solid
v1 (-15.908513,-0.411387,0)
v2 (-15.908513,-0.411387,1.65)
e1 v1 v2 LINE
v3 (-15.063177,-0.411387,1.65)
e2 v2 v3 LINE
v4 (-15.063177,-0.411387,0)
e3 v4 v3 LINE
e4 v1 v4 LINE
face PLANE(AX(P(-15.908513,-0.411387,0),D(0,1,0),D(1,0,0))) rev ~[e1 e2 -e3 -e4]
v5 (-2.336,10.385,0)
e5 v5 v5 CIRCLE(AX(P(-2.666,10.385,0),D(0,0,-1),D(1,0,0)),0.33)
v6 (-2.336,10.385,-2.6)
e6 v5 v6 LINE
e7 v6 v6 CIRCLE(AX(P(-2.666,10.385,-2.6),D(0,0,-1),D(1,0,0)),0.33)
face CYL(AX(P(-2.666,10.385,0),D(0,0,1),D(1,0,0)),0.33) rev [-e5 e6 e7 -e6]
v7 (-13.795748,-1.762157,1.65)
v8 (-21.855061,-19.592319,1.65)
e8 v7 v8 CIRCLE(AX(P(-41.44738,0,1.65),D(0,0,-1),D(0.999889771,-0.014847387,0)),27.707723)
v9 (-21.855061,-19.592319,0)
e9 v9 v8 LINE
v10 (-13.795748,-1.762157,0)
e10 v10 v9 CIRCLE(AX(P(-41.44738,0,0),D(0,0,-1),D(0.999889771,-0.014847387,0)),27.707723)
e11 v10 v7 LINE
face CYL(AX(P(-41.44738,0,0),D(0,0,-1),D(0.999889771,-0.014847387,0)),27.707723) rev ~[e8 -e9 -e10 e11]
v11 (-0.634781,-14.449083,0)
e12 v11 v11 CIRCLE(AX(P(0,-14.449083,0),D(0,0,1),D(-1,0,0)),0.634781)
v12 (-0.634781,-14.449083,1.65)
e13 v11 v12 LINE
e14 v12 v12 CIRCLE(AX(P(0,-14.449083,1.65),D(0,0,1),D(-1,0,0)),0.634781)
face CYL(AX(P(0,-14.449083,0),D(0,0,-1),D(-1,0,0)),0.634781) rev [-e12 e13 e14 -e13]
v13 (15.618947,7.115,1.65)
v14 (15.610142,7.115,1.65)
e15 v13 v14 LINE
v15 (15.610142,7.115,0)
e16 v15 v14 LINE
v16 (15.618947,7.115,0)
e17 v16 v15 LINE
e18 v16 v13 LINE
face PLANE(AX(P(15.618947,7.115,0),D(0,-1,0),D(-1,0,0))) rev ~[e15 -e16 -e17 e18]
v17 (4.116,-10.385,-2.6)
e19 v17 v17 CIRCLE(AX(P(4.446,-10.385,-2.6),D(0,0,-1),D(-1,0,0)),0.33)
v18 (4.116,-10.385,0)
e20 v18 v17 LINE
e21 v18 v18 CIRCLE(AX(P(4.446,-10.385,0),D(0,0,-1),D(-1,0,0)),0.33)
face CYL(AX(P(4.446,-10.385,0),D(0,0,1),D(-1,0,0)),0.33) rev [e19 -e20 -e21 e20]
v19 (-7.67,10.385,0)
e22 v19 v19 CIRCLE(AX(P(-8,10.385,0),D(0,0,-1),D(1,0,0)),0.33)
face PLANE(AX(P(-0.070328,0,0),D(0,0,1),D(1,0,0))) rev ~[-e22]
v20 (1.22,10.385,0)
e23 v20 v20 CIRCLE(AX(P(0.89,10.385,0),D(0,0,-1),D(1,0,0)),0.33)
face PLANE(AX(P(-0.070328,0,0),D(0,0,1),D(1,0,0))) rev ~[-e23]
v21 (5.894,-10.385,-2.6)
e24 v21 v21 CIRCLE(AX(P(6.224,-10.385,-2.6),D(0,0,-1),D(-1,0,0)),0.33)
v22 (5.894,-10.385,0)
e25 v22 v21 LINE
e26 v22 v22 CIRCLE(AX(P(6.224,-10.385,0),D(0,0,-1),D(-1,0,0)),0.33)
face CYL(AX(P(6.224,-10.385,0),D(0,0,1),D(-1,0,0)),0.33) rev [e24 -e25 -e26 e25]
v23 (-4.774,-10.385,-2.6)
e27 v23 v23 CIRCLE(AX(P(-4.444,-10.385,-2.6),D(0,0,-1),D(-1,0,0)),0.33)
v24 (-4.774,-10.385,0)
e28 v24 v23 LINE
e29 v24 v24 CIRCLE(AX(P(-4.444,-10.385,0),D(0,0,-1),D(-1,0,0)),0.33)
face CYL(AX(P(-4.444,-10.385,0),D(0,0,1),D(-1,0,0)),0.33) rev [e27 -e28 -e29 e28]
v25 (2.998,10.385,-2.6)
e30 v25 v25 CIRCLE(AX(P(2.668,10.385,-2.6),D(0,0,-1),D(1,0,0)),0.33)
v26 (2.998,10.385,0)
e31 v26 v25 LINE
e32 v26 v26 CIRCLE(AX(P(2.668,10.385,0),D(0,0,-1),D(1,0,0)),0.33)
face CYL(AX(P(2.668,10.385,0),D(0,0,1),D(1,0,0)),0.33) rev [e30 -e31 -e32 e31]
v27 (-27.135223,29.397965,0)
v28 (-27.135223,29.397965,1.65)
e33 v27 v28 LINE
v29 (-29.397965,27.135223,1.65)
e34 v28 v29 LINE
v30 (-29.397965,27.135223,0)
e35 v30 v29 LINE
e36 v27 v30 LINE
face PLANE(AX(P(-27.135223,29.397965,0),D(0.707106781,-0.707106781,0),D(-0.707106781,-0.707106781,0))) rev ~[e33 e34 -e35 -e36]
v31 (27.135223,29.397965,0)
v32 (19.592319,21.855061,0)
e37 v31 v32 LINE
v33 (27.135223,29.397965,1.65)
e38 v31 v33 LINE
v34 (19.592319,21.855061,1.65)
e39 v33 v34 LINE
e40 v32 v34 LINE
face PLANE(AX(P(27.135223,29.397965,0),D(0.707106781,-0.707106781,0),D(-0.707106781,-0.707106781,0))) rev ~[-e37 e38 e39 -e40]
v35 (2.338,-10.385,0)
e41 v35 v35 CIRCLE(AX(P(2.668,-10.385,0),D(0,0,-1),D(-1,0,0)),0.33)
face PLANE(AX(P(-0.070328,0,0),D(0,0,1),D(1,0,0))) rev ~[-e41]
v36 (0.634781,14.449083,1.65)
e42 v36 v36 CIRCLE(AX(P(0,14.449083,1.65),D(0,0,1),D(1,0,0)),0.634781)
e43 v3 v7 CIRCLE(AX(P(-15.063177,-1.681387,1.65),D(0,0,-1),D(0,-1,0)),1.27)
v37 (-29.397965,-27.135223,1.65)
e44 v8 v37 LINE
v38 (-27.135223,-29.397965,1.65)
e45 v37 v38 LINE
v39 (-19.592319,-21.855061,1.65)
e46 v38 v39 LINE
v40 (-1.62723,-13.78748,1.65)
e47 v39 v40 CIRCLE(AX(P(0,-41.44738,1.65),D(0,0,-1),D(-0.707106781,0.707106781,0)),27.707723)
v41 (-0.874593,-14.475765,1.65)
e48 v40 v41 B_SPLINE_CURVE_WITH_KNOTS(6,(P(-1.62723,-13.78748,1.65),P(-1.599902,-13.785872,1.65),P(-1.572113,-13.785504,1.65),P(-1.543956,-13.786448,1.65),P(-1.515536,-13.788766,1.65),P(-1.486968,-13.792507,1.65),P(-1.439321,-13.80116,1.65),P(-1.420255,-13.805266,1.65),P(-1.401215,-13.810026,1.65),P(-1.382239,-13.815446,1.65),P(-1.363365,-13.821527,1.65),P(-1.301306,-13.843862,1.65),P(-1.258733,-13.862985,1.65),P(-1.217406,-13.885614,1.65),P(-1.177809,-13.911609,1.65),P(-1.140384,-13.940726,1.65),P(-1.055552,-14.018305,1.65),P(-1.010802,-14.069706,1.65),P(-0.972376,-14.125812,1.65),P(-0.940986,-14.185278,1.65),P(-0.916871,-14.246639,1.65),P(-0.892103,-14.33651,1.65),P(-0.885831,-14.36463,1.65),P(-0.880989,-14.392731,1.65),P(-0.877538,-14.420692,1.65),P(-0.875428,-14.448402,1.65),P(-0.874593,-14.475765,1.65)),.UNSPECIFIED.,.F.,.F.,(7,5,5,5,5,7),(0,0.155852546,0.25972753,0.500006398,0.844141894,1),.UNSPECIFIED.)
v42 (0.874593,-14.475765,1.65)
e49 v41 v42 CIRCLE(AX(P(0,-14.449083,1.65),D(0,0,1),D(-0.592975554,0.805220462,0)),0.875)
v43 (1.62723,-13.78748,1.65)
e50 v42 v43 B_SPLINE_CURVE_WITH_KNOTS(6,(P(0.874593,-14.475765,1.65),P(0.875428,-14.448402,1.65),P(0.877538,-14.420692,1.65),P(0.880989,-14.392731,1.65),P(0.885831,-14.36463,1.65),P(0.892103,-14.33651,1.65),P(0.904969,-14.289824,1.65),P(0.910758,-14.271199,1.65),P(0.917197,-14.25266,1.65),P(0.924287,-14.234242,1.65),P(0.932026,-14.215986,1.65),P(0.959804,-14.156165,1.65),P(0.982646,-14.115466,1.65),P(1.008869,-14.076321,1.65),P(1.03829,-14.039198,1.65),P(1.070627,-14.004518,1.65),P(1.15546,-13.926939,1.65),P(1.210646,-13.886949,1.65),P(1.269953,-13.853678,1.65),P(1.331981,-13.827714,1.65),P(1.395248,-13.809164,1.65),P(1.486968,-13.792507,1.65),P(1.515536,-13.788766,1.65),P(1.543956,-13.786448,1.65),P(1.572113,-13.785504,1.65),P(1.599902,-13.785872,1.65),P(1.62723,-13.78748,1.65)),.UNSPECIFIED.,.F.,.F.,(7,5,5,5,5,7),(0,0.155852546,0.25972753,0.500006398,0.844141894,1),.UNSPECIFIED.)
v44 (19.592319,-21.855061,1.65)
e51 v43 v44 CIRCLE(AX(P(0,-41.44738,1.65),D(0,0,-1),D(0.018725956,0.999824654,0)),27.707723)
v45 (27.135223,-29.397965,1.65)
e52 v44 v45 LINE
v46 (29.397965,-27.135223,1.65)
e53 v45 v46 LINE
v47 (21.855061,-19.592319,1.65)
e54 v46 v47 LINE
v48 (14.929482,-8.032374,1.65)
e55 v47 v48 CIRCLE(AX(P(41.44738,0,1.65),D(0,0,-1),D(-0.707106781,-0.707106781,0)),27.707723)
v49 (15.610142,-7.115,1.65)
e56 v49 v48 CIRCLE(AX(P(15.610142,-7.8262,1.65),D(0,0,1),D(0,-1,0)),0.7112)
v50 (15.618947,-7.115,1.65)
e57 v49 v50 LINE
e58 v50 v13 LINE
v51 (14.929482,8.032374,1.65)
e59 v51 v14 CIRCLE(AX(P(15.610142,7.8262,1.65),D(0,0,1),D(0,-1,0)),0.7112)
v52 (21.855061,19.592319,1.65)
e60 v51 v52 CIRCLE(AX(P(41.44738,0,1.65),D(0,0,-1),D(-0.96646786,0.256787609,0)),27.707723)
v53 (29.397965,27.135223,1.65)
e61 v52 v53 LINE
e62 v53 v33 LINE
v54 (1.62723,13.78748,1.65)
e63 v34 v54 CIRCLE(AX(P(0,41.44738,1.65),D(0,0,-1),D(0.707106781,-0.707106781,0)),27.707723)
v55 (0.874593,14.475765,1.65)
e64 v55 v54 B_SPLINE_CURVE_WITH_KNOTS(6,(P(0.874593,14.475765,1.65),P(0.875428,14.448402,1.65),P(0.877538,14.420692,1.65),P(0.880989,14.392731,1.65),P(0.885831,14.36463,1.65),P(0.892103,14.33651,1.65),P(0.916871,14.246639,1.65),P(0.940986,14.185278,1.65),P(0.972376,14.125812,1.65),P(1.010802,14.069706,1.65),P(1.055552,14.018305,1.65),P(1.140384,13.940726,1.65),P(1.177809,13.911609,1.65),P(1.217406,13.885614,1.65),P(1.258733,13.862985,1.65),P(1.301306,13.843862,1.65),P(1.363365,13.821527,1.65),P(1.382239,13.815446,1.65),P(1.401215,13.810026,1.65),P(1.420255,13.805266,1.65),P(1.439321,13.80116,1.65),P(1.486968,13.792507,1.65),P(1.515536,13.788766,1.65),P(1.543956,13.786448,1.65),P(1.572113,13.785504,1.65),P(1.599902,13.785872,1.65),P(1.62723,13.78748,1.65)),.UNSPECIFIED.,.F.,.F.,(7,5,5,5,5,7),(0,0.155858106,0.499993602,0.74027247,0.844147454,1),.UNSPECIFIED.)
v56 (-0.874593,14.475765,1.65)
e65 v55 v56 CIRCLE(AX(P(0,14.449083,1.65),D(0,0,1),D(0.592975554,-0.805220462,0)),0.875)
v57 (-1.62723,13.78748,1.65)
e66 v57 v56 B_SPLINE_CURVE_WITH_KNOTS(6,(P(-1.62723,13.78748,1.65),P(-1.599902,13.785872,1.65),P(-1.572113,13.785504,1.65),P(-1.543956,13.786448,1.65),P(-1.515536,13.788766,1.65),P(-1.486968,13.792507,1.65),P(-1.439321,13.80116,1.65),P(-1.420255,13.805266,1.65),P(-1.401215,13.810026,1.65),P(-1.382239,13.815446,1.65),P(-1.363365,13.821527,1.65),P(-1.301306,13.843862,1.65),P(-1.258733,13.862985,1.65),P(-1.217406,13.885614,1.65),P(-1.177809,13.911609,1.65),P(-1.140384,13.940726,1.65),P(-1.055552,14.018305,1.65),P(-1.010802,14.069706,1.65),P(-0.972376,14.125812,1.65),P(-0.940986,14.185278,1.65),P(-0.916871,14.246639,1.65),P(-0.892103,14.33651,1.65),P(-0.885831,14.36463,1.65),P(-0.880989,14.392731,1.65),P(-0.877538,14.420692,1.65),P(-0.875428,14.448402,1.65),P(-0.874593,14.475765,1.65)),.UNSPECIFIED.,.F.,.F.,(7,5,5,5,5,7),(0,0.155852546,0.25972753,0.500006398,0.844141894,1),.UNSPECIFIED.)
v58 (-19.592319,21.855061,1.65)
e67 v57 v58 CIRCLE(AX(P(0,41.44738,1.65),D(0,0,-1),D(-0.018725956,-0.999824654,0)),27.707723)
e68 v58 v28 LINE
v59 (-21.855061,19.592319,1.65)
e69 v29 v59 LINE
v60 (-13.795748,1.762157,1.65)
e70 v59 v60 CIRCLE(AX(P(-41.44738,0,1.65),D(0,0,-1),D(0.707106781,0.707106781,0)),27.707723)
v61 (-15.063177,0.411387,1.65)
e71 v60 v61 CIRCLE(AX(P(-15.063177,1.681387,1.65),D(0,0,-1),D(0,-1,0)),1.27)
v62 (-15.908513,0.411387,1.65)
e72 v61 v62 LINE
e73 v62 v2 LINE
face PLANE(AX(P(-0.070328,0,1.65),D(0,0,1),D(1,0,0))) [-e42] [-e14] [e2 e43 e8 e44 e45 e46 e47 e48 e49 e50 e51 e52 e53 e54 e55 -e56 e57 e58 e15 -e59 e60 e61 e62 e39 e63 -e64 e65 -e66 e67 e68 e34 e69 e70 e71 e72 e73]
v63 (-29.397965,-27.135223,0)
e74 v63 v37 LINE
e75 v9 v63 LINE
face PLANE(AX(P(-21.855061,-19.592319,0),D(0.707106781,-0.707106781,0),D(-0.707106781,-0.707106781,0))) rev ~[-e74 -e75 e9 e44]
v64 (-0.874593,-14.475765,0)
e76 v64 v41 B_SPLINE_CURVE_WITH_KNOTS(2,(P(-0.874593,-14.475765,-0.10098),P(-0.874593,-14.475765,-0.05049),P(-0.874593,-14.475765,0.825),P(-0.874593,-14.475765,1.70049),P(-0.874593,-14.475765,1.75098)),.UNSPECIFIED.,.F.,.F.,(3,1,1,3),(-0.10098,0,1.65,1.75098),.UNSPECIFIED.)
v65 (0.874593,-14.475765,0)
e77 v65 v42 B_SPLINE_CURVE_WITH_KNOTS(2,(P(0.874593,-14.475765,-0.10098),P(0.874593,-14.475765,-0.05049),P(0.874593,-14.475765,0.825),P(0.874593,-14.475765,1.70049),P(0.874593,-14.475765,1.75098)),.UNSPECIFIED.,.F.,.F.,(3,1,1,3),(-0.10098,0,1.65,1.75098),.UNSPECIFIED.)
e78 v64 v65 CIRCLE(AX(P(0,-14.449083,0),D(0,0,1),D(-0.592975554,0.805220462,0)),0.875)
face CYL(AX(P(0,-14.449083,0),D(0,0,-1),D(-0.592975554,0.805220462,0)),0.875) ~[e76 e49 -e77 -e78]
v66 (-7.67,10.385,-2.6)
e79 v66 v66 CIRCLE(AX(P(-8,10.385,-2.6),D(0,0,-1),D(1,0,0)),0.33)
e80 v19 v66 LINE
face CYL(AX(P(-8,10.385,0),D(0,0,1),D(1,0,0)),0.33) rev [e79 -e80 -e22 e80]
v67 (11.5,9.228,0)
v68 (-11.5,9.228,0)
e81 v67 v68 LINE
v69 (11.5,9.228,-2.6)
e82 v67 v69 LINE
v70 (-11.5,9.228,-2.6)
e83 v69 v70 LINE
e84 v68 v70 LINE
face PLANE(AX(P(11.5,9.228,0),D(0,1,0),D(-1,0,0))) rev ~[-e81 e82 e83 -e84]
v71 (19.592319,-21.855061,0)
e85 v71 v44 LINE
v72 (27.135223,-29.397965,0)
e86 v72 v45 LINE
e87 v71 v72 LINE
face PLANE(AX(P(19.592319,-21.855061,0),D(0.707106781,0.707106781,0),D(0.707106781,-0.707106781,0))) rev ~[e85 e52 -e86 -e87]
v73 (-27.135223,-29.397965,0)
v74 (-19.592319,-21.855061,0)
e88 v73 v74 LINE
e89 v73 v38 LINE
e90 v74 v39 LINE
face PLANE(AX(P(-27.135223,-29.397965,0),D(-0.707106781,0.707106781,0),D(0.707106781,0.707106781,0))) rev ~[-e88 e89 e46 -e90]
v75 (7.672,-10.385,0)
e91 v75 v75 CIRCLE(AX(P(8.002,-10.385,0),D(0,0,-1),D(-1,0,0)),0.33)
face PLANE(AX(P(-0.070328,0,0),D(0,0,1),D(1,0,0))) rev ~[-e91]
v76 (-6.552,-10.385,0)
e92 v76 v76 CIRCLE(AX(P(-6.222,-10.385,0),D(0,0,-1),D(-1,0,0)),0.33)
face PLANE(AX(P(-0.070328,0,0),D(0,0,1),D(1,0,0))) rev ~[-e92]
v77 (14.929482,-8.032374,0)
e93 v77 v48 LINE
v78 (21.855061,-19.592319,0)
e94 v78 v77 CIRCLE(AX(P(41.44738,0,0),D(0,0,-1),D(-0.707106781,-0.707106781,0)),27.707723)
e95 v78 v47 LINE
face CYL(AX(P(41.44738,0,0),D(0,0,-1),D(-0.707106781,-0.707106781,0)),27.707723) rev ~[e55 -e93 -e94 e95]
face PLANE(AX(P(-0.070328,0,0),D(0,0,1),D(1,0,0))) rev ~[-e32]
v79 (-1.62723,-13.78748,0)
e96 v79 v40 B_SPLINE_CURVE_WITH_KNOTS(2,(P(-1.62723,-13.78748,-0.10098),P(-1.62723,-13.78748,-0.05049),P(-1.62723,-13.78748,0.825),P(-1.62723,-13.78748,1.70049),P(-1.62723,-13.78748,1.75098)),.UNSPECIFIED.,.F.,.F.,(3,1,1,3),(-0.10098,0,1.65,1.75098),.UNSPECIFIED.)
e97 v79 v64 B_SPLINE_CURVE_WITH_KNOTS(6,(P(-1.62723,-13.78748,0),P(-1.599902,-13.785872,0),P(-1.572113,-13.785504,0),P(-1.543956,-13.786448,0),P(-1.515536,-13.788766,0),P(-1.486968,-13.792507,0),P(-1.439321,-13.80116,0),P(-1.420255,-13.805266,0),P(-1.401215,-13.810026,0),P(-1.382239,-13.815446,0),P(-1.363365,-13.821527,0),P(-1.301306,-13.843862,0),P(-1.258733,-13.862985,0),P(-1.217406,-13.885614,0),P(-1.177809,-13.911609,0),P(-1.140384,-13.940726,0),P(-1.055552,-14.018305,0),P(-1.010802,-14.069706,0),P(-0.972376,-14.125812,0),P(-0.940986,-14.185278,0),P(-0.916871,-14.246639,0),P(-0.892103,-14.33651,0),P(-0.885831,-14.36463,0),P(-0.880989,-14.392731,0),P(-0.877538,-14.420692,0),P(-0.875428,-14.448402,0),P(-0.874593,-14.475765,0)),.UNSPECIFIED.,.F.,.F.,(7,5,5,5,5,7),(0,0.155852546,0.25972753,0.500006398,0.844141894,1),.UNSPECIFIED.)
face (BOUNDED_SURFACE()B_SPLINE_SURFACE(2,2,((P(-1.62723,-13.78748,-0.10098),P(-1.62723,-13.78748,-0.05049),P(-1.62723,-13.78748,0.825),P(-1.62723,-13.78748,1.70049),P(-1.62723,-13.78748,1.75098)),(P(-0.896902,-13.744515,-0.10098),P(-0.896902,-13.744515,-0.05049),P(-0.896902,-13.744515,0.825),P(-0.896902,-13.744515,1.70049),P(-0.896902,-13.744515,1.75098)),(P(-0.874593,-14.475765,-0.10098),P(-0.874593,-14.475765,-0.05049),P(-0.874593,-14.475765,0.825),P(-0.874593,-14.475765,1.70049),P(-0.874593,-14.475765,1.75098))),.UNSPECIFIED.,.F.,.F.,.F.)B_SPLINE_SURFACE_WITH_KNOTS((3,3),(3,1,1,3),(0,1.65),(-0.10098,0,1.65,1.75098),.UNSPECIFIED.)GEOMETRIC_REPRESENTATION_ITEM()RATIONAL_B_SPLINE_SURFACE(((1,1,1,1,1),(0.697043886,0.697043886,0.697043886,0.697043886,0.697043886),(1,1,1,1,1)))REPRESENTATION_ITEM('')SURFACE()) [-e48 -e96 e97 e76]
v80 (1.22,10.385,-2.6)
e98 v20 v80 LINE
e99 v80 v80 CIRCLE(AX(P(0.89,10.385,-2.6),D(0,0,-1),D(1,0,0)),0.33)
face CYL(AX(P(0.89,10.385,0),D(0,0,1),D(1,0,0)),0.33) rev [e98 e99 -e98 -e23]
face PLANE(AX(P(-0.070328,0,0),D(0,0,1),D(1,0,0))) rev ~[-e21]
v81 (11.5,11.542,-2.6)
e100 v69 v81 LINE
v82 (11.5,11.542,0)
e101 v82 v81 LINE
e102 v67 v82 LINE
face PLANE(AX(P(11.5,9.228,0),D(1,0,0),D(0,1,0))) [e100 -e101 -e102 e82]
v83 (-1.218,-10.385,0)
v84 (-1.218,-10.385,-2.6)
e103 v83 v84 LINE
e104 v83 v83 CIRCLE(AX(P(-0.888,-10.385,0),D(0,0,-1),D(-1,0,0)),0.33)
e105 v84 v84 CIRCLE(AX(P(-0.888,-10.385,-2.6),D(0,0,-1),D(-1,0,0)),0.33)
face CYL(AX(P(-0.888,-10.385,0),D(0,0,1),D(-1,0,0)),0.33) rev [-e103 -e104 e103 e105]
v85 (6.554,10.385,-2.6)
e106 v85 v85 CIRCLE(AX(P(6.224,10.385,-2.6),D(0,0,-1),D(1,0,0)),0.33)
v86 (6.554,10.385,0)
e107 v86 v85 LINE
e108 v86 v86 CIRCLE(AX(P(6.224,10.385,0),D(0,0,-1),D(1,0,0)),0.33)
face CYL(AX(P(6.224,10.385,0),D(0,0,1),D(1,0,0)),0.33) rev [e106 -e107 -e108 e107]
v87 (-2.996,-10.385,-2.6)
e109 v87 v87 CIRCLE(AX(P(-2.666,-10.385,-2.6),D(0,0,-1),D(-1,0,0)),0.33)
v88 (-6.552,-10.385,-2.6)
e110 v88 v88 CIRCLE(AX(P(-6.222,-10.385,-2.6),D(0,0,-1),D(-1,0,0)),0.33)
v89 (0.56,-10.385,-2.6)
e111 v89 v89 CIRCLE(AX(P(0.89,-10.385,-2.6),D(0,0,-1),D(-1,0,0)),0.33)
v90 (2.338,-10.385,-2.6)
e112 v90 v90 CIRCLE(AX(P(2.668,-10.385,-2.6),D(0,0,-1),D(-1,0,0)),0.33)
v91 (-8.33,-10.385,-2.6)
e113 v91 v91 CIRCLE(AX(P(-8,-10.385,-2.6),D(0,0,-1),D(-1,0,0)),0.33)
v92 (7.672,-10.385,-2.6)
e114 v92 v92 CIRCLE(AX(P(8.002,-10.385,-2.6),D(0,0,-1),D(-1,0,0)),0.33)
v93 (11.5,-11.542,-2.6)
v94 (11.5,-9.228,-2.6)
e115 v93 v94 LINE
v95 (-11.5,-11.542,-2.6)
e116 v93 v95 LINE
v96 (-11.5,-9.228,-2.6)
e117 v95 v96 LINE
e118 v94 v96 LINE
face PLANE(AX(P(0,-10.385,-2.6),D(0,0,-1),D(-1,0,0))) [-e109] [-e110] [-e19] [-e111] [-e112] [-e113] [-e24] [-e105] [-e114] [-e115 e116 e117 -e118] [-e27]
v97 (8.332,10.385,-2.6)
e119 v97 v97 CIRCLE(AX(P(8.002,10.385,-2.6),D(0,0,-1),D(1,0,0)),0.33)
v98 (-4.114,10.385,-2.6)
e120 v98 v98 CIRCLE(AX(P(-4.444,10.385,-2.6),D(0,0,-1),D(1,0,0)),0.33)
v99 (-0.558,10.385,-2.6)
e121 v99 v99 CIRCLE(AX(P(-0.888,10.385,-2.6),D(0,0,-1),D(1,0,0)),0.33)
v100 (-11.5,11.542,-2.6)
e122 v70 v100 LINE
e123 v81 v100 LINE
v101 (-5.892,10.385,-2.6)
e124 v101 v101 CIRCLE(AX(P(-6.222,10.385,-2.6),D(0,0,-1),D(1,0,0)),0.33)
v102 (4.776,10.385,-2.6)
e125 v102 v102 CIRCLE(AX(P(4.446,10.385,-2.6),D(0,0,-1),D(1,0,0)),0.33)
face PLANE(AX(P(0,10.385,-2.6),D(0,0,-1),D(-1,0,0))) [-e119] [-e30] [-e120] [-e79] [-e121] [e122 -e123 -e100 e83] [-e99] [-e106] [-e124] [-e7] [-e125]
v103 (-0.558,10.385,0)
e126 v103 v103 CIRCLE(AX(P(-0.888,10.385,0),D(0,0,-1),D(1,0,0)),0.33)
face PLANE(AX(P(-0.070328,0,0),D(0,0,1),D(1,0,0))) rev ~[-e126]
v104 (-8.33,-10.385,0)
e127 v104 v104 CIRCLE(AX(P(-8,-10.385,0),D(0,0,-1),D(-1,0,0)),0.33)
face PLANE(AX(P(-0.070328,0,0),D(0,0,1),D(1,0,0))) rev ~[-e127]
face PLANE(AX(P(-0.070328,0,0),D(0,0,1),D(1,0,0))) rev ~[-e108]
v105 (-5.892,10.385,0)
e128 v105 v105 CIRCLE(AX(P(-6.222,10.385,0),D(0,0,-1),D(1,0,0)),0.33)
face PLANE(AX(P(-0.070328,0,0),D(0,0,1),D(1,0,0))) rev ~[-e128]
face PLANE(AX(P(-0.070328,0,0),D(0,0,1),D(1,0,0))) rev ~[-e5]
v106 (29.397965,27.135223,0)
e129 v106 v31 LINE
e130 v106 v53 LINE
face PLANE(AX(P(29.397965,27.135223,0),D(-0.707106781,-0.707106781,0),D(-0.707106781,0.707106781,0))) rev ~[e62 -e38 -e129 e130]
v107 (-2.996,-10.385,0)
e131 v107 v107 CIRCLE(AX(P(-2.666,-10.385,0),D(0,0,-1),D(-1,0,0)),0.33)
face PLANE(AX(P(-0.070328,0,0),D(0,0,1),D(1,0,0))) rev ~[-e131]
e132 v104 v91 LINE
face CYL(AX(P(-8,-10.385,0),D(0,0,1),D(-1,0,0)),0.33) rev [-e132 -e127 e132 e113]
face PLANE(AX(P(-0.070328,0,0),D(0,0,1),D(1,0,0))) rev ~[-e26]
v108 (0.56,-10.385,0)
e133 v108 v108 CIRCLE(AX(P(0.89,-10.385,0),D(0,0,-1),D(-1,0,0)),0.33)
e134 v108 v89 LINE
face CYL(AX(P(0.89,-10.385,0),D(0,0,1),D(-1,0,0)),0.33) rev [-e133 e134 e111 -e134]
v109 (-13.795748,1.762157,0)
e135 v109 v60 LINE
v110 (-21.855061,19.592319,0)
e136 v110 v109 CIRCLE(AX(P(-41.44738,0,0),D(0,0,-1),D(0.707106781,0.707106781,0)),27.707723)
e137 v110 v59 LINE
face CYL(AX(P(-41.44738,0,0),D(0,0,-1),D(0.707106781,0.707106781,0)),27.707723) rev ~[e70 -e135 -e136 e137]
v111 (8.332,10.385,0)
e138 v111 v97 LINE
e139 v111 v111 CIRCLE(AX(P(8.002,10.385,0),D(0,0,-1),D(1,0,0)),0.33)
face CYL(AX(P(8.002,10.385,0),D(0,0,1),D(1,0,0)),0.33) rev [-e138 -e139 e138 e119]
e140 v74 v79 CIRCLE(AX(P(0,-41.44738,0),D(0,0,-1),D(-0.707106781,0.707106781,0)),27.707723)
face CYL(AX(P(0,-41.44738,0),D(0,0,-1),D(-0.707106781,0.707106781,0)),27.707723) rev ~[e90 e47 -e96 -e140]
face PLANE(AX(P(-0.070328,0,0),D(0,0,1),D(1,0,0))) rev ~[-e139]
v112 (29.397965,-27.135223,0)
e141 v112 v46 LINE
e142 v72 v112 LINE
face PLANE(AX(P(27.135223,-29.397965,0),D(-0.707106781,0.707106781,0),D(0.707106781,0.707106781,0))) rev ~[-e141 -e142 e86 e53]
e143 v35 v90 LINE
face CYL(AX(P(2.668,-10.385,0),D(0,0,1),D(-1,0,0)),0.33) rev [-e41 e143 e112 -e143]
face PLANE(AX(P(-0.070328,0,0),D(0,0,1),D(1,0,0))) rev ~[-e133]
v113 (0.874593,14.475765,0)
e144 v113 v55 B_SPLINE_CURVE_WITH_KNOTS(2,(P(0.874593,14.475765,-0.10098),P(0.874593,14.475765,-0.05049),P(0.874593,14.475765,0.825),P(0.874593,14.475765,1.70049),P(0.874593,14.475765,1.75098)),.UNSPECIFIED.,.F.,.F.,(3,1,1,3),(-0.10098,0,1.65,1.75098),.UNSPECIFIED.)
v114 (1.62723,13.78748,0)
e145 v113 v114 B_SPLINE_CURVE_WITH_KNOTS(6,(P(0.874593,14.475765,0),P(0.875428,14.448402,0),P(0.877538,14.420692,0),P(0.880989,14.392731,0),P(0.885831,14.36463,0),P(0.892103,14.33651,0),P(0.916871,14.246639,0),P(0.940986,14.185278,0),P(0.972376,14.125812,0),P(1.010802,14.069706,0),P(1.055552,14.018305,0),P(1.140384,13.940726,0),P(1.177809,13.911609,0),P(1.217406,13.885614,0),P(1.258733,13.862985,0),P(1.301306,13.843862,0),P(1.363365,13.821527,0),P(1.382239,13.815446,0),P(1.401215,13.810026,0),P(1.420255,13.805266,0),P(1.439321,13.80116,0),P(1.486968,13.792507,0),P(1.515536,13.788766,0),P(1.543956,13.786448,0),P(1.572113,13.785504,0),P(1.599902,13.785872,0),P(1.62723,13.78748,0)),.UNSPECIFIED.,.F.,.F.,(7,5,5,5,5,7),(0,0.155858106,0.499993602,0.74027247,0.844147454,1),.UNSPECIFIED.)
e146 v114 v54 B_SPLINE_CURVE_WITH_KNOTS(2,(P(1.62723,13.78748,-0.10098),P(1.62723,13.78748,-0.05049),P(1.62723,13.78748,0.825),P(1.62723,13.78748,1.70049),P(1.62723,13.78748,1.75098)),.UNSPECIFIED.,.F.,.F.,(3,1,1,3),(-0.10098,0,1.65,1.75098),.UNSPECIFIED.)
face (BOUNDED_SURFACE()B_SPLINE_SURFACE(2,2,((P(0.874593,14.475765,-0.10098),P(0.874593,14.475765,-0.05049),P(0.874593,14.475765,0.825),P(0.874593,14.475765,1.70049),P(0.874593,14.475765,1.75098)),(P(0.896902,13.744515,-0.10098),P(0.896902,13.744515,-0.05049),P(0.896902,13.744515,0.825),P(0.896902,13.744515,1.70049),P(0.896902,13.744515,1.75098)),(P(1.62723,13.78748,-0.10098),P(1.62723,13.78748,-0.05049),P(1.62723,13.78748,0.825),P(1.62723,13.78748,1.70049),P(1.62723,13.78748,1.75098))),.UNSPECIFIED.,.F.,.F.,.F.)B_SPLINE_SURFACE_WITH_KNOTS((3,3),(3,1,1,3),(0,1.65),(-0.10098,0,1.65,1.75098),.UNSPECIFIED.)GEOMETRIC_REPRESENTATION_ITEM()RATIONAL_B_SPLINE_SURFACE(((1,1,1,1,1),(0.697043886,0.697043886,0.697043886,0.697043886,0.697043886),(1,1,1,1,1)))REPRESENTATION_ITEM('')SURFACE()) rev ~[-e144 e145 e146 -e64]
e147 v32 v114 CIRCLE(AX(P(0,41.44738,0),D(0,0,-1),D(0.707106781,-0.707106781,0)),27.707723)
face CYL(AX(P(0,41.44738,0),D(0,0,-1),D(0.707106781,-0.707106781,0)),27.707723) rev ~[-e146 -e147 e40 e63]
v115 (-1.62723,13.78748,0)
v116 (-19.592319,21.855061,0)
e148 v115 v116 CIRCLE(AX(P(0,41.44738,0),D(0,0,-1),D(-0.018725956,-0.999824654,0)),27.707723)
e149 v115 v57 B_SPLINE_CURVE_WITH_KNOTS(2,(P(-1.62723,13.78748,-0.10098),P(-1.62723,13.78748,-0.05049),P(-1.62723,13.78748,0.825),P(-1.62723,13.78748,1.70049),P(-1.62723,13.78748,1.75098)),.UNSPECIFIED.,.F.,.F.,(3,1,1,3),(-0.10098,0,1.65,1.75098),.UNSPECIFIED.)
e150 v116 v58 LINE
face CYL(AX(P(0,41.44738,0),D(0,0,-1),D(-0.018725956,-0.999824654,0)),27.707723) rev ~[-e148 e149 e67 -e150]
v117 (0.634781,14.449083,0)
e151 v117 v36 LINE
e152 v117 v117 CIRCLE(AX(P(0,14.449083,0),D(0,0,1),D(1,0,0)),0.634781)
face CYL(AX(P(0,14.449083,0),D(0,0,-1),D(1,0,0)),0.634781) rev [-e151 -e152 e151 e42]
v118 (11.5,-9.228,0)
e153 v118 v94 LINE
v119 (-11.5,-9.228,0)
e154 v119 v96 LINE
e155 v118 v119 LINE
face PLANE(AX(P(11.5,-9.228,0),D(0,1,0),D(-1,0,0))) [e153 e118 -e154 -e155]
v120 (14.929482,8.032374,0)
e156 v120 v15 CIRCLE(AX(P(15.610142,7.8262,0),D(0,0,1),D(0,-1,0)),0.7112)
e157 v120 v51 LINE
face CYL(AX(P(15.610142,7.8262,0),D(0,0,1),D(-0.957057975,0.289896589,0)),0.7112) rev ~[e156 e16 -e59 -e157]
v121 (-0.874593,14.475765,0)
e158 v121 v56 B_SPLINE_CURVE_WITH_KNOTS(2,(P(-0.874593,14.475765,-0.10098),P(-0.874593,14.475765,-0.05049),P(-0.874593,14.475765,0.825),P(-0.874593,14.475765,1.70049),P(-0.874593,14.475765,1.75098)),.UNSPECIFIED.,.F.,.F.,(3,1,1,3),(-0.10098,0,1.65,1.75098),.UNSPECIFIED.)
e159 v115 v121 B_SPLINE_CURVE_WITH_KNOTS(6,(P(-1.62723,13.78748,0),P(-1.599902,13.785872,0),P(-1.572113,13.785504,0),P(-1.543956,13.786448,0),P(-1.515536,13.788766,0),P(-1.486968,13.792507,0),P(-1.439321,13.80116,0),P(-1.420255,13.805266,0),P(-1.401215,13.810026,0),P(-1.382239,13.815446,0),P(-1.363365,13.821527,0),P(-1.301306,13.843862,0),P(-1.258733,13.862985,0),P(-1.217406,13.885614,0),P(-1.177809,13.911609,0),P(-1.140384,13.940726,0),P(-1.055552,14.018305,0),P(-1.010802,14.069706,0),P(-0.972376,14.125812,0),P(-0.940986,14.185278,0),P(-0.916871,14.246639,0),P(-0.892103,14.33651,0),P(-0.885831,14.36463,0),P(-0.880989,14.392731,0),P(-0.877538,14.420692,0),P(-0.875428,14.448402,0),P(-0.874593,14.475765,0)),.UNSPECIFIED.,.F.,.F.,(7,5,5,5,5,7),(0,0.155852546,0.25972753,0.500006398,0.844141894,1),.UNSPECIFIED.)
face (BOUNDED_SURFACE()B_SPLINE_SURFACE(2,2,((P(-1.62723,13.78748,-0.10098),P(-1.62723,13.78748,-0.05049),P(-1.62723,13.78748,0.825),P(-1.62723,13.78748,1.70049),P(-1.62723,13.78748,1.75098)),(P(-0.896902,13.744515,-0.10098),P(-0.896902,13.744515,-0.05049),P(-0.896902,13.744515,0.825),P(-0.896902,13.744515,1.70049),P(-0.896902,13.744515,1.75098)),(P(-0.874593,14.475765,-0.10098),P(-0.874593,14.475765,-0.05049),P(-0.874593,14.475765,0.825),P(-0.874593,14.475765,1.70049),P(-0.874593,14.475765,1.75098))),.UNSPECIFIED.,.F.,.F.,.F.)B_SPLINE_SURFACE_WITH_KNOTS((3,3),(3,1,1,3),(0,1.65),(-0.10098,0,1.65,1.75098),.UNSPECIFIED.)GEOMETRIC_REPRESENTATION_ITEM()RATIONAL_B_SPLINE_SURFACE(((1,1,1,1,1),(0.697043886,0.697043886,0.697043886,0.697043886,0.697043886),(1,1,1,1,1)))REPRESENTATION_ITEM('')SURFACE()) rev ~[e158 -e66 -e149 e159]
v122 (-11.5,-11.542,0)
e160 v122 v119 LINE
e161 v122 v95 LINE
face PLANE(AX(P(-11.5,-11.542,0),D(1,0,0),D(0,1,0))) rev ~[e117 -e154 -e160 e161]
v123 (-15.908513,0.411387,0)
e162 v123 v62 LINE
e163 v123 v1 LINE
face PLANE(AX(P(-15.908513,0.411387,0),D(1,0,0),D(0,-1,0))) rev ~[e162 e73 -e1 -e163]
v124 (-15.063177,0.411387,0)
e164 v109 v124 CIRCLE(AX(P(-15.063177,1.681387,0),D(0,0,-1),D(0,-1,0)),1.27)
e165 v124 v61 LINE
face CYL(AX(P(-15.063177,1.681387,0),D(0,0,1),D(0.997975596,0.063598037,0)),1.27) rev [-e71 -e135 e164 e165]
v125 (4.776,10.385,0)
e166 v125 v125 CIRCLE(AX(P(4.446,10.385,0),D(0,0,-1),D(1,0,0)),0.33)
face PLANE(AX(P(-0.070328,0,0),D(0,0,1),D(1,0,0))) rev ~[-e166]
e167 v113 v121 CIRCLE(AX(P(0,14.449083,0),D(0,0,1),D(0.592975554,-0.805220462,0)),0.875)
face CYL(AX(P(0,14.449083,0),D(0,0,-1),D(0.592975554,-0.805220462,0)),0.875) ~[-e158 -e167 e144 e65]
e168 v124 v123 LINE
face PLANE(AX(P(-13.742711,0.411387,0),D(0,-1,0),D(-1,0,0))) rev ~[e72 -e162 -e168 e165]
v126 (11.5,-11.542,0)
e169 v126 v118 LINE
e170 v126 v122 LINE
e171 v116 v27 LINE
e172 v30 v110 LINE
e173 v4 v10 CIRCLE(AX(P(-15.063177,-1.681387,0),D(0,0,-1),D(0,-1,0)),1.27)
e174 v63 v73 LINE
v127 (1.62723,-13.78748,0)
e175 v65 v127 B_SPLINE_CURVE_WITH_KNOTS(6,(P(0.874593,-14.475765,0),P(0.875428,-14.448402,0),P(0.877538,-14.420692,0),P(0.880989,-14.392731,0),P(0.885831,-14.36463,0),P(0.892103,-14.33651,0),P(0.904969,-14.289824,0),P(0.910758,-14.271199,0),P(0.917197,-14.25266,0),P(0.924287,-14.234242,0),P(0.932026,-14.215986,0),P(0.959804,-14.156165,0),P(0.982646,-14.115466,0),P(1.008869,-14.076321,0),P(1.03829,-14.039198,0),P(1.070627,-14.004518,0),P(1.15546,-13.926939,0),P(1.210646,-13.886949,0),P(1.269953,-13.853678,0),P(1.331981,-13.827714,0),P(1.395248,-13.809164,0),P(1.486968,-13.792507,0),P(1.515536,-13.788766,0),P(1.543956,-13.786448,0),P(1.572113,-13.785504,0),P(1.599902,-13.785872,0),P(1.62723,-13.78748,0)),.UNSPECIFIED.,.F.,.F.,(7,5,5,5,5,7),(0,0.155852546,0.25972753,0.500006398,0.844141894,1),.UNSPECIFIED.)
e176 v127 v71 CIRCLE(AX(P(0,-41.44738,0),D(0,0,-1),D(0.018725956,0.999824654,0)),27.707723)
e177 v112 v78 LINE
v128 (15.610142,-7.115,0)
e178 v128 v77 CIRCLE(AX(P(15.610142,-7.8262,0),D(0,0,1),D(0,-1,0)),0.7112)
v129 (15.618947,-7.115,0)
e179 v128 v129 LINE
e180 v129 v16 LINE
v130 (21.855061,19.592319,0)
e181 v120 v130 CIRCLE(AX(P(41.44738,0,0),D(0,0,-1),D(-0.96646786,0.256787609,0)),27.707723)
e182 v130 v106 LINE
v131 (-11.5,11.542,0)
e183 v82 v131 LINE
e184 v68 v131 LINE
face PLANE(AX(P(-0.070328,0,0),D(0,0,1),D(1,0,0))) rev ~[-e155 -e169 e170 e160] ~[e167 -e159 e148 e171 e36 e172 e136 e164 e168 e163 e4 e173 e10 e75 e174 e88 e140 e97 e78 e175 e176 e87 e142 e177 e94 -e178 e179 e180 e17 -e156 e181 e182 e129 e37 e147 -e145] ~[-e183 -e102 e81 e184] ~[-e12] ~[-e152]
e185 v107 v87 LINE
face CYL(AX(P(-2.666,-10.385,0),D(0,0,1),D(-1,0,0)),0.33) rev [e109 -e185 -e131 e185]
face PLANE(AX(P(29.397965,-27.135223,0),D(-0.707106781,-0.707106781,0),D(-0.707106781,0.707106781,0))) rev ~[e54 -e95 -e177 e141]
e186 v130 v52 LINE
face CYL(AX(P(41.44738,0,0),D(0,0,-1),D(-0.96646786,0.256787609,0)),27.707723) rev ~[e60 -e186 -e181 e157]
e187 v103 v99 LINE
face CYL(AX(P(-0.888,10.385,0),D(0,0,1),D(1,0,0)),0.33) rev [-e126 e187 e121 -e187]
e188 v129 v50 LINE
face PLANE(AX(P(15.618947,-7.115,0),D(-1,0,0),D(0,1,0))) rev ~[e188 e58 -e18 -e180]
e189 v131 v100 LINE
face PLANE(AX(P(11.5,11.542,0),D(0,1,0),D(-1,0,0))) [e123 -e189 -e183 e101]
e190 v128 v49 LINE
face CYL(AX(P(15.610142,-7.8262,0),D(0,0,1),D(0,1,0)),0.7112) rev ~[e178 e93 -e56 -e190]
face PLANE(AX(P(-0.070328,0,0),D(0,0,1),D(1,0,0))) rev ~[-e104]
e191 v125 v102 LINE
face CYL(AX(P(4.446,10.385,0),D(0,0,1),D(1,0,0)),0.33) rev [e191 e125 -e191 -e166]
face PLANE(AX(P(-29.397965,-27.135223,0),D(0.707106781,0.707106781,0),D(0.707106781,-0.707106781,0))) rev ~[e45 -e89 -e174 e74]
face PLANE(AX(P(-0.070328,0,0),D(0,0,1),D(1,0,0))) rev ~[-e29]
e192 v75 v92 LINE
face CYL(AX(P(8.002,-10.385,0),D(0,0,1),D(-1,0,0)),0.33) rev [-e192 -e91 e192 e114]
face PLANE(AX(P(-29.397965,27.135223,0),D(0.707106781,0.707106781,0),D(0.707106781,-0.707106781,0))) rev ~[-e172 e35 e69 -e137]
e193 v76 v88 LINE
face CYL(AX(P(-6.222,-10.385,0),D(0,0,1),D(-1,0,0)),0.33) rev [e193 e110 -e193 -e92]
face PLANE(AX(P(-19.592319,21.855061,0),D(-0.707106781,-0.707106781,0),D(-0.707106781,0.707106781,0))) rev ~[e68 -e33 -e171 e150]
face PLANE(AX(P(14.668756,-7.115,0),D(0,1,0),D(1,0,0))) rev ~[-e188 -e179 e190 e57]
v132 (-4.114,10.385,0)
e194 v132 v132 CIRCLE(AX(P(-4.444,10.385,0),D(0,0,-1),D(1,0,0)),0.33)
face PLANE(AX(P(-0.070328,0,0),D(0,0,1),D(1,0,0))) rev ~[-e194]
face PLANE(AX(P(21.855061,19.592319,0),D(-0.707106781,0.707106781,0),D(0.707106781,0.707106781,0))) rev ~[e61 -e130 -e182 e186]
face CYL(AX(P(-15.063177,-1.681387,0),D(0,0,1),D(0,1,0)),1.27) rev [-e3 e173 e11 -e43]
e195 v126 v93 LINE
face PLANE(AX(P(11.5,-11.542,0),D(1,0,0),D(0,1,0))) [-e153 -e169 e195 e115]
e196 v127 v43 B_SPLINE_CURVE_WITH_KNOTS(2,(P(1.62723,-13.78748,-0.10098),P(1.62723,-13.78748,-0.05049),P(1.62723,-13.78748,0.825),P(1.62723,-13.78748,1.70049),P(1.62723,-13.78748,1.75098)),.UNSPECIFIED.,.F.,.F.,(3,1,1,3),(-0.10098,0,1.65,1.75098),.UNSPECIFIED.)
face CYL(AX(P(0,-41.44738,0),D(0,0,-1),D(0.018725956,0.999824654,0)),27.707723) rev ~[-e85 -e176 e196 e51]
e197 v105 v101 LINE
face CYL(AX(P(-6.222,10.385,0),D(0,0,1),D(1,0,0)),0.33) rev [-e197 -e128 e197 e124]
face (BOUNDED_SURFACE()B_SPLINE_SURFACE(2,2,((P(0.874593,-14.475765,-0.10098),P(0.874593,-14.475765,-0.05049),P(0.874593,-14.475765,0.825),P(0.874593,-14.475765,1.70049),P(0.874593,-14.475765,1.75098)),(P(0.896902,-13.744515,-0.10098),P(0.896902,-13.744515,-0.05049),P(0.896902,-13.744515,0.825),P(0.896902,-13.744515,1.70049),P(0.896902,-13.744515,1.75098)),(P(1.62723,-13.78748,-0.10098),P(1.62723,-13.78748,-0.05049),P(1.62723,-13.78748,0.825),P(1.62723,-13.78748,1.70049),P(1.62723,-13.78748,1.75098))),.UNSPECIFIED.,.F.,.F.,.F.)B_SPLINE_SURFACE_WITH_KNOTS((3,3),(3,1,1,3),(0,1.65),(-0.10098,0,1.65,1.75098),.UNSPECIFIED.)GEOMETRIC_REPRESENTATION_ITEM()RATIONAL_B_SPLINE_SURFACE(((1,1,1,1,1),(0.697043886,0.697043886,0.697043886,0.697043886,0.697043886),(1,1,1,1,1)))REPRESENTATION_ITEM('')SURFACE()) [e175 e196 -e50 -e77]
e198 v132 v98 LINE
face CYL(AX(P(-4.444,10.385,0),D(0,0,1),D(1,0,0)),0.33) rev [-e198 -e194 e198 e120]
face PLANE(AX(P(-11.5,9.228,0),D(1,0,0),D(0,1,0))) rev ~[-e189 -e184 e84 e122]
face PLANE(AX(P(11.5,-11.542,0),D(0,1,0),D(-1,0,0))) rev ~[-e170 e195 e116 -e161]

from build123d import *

# Parameters (mm, degrees)
SKETCH1_R           = 0.634780864
BOSS_EXTRUDE1_DEPTH = 1.65
FILLET1_R           = 0.7112
FILLET2_R           = 0.7112
FILLET3_R           = 1.27
SKETCH2_W           = 23
SKETCH2_H           = 2.314
SKETCH2_R           = 0.33
BOSS_EXTRUDE2_DEPTH = 2.6


with BuildPart() as part:
    # Sketch1 → Boss-Extrude1 (new body)
    with BuildSketch(Plane.XY):
        with BuildLine():
            Line((-27.135222714, 29.397964527), (-29.397964527, 27.135222714))
            Line((-29.397964527, 27.135222714), (-21.855060774, 19.592318961))
            ThreePointArc((-21.855060774, 19.592318961), (-15.928204538, 10.7930358), (-13.742710724, 0.41138729))
            Line((-13.742710724, 0.41138729), (-15.908512943, 0.41138729))
            Line((-15.908512943, 0.41138729), (-15.908512943, -0.41138729))
            Line((-15.908512943, -0.41138729), (-13.742710724, -0.41138729))
            ThreePointArc((-13.742710724, -0.41138729), (-15.928204538, -10.7930358), (-21.855060774, -19.592318961))
            Line((-21.855060774, -19.592318961), (-29.397964527, -27.135222714))
            Line((-29.397964527, -27.135222714), (-27.135222714, -29.397964527))
            Line((-27.135222714, -29.397964527), (-19.592318961, -21.855060774))
            ThreePointArc((-19.592318961, -21.855060774), (-10.842511416, -15.949186255), (-0.51885361, -13.744514983))
            ThreePointArc((-0.51885361, -13.744514983), (0, -15.324082887), (0.51885361, -13.744514983))
            ThreePointArc((0.51885361, -13.744514983), (10.842511416, -15.949186255), (19.592318961, -21.855060774))
            Line((19.592318961, -21.855060774), (27.135222714, -29.397964527))
            Line((27.135222714, -29.397964527), (29.397964527, -27.135222714))
            Line((29.397964527, -27.135222714), (21.855060774, -19.592318961))
            ThreePointArc((21.855060774, -19.592318961), (17.437236913, -13.828628501), (14.668755804, -7.114999994))
            Line((14.668755804, -7.114999994), (15.618947426, -7.114999994))
            Line((15.618947426, -7.114999994), (15.618947426, 7.114999994))
            Line((15.618947426, 7.114999994), (14.668755804, 7.114999994))
            ThreePointArc((14.668755804, 7.114999994), (17.437236913, 13.828628501), (21.855060774, 19.592318961))
            Line((21.855060774, 19.592318961), (29.397964527, 27.135222714))
            Line((29.397964527, 27.135222714), (27.135222714, 29.397964527))
            Line((27.135222714, 29.397964527), (19.592318961, 21.855060774))
            ThreePointArc((19.592318961, 21.855060774), (10.842511416, 15.949186255), (0.51885361, 13.744514983))
            ThreePointArc((0.51885361, 13.744514983), (0, 15.324082887), (-0.51885361, 13.744514983))
            ThreePointArc((-0.51885361, 13.744514983), (-10.842511416, 15.949186255), (-19.592318961, 21.855060774))
            Line((-19.592318961, 21.855060774), (-27.135222714, 29.397964527))
        make_face()
        with Locations((0, 14.449082887)):
            Circle(SKETCH1_R, mode=Mode.SUBTRACT)
        with Locations(Location((0, -14.449082887, 0), (0, 0, 180))):
            Circle(SKETCH1_R, mode=Mode.SUBTRACT)
    extrude(amount=BOSS_EXTRUDE1_DEPTH)

    # Fillet1
    fillet1_edges = [part.edges().sort_by_distance(p)[0] for p in [
        (0.51885361, 13.744514983, 0.825),
        (0.51885361, -13.744514983, 0.825),
        (-0.51885361, -13.744514983, 0.825),
        (-0.51885361, 13.744514983, 0.825),
    ]]
    fillet(fillet1_edges, radius=FILLET1_R)

    # Fillet2
    fillet2_edges = [part.edges().sort_by_distance(p)[0] for p in [
        (14.668755804, 7.114999994, 0.825),
        (14.668755804, -7.114999994, 0.825),
    ]]
    fillet(fillet2_edges, radius=FILLET2_R)

    # Fillet3
    fillet3_edges = [part.edges().sort_by_distance(p)[0] for p in [
        (-13.742710724, -0.41138729, 0.825),
        (-13.742710724, 0.41138729, 0.825),
    ]]
    fillet(fillet3_edges, radius=FILLET3_R)

    # Sketch2 → Boss-Extrude2 (add)
    # profile 1 of 2: a face of its own
    with BuildSketch(Plane(origin=(0, 0, 0), x_dir=(-1, 0, 0), z_dir=(0, 0, -1))):
        with Locations((0, 10.385)):
            Rectangle(SKETCH2_W, SKETCH2_H)
        with Locations(Location((-8.002, 10.385, 0), (0, 0, 180))):
            Circle(SKETCH2_R, mode=Mode.SUBTRACT)
        with Locations(Location((-6.224, 10.385, 0), (0, 0, 180))):
            Circle(SKETCH2_R, mode=Mode.SUBTRACT)
        with Locations(Location((-4.446, 10.385, 0), (0, 0, 180))):
            Circle(SKETCH2_R, mode=Mode.SUBTRACT)
        with Locations(Location((-2.668, 10.385, 0), (0, 0, 180))):
            Circle(SKETCH2_R, mode=Mode.SUBTRACT)
        with Locations(Location((-0.89, 10.385, 0), (0, 0, 180))):
            Circle(SKETCH2_R, mode=Mode.SUBTRACT)
        with Locations(Location((0.888, 10.385, 0), (0, 0, 180))):
            Circle(SKETCH2_R, mode=Mode.SUBTRACT)
        with Locations(Location((2.666, 10.385, 0), (0, 0, 180))):
            Circle(SKETCH2_R, mode=Mode.SUBTRACT)
        with Locations(Location((4.444, 10.385, 0), (0, 0, 180))):
            Circle(SKETCH2_R, mode=Mode.SUBTRACT)
        with Locations(Location((6.222, 10.385, 0), (0, 0, 180))):
            Circle(SKETCH2_R, mode=Mode.SUBTRACT)
        with Locations(Location((8, 10.385, 0), (0, 0, 180))):
            Circle(SKETCH2_R, mode=Mode.SUBTRACT)
    # profile 2 of 2: a face of its own
    with BuildSketch(Plane(origin=(0, 0, 0), x_dir=(-1, 0, 0), z_dir=(0, 0, -1))):
        with Locations((0, -10.385)):
            Rectangle(SKETCH2_W, SKETCH2_H)
        with Locations((8, -10.385)):
            Circle(SKETCH2_R, mode=Mode.SUBTRACT)
        with Locations((6.222, -10.385)):
            Circle(SKETCH2_R, mode=Mode.SUBTRACT)
        with Locations((4.444, -10.385)):
            Circle(SKETCH2_R, mode=Mode.SUBTRACT)
        with Locations((2.666, -10.385)):
            Circle(SKETCH2_R, mode=Mode.SUBTRACT)
        with Locations((0.888, -10.385)):
            Circle(SKETCH2_R, mode=Mode.SUBTRACT)
        with Locations((-0.89, -10.385)):
            Circle(SKETCH2_R, mode=Mode.SUBTRACT)
        with Locations((-2.668, -10.385)):
            Circle(SKETCH2_R, mode=Mode.SUBTRACT)
        with Locations((-4.446, -10.385)):
            Circle(SKETCH2_R, mode=Mode.SUBTRACT)
        with Locations((-6.224, -10.385)):
            Circle(SKETCH2_R, mode=Mode.SUBTRACT)
        with Locations((-8.002, -10.385)):
            Circle(SKETCH2_R, mode=Mode.SUBTRACT)
    extrude(amount=BOSS_EXTRUDE2_DEPTH)


solid = part.part
